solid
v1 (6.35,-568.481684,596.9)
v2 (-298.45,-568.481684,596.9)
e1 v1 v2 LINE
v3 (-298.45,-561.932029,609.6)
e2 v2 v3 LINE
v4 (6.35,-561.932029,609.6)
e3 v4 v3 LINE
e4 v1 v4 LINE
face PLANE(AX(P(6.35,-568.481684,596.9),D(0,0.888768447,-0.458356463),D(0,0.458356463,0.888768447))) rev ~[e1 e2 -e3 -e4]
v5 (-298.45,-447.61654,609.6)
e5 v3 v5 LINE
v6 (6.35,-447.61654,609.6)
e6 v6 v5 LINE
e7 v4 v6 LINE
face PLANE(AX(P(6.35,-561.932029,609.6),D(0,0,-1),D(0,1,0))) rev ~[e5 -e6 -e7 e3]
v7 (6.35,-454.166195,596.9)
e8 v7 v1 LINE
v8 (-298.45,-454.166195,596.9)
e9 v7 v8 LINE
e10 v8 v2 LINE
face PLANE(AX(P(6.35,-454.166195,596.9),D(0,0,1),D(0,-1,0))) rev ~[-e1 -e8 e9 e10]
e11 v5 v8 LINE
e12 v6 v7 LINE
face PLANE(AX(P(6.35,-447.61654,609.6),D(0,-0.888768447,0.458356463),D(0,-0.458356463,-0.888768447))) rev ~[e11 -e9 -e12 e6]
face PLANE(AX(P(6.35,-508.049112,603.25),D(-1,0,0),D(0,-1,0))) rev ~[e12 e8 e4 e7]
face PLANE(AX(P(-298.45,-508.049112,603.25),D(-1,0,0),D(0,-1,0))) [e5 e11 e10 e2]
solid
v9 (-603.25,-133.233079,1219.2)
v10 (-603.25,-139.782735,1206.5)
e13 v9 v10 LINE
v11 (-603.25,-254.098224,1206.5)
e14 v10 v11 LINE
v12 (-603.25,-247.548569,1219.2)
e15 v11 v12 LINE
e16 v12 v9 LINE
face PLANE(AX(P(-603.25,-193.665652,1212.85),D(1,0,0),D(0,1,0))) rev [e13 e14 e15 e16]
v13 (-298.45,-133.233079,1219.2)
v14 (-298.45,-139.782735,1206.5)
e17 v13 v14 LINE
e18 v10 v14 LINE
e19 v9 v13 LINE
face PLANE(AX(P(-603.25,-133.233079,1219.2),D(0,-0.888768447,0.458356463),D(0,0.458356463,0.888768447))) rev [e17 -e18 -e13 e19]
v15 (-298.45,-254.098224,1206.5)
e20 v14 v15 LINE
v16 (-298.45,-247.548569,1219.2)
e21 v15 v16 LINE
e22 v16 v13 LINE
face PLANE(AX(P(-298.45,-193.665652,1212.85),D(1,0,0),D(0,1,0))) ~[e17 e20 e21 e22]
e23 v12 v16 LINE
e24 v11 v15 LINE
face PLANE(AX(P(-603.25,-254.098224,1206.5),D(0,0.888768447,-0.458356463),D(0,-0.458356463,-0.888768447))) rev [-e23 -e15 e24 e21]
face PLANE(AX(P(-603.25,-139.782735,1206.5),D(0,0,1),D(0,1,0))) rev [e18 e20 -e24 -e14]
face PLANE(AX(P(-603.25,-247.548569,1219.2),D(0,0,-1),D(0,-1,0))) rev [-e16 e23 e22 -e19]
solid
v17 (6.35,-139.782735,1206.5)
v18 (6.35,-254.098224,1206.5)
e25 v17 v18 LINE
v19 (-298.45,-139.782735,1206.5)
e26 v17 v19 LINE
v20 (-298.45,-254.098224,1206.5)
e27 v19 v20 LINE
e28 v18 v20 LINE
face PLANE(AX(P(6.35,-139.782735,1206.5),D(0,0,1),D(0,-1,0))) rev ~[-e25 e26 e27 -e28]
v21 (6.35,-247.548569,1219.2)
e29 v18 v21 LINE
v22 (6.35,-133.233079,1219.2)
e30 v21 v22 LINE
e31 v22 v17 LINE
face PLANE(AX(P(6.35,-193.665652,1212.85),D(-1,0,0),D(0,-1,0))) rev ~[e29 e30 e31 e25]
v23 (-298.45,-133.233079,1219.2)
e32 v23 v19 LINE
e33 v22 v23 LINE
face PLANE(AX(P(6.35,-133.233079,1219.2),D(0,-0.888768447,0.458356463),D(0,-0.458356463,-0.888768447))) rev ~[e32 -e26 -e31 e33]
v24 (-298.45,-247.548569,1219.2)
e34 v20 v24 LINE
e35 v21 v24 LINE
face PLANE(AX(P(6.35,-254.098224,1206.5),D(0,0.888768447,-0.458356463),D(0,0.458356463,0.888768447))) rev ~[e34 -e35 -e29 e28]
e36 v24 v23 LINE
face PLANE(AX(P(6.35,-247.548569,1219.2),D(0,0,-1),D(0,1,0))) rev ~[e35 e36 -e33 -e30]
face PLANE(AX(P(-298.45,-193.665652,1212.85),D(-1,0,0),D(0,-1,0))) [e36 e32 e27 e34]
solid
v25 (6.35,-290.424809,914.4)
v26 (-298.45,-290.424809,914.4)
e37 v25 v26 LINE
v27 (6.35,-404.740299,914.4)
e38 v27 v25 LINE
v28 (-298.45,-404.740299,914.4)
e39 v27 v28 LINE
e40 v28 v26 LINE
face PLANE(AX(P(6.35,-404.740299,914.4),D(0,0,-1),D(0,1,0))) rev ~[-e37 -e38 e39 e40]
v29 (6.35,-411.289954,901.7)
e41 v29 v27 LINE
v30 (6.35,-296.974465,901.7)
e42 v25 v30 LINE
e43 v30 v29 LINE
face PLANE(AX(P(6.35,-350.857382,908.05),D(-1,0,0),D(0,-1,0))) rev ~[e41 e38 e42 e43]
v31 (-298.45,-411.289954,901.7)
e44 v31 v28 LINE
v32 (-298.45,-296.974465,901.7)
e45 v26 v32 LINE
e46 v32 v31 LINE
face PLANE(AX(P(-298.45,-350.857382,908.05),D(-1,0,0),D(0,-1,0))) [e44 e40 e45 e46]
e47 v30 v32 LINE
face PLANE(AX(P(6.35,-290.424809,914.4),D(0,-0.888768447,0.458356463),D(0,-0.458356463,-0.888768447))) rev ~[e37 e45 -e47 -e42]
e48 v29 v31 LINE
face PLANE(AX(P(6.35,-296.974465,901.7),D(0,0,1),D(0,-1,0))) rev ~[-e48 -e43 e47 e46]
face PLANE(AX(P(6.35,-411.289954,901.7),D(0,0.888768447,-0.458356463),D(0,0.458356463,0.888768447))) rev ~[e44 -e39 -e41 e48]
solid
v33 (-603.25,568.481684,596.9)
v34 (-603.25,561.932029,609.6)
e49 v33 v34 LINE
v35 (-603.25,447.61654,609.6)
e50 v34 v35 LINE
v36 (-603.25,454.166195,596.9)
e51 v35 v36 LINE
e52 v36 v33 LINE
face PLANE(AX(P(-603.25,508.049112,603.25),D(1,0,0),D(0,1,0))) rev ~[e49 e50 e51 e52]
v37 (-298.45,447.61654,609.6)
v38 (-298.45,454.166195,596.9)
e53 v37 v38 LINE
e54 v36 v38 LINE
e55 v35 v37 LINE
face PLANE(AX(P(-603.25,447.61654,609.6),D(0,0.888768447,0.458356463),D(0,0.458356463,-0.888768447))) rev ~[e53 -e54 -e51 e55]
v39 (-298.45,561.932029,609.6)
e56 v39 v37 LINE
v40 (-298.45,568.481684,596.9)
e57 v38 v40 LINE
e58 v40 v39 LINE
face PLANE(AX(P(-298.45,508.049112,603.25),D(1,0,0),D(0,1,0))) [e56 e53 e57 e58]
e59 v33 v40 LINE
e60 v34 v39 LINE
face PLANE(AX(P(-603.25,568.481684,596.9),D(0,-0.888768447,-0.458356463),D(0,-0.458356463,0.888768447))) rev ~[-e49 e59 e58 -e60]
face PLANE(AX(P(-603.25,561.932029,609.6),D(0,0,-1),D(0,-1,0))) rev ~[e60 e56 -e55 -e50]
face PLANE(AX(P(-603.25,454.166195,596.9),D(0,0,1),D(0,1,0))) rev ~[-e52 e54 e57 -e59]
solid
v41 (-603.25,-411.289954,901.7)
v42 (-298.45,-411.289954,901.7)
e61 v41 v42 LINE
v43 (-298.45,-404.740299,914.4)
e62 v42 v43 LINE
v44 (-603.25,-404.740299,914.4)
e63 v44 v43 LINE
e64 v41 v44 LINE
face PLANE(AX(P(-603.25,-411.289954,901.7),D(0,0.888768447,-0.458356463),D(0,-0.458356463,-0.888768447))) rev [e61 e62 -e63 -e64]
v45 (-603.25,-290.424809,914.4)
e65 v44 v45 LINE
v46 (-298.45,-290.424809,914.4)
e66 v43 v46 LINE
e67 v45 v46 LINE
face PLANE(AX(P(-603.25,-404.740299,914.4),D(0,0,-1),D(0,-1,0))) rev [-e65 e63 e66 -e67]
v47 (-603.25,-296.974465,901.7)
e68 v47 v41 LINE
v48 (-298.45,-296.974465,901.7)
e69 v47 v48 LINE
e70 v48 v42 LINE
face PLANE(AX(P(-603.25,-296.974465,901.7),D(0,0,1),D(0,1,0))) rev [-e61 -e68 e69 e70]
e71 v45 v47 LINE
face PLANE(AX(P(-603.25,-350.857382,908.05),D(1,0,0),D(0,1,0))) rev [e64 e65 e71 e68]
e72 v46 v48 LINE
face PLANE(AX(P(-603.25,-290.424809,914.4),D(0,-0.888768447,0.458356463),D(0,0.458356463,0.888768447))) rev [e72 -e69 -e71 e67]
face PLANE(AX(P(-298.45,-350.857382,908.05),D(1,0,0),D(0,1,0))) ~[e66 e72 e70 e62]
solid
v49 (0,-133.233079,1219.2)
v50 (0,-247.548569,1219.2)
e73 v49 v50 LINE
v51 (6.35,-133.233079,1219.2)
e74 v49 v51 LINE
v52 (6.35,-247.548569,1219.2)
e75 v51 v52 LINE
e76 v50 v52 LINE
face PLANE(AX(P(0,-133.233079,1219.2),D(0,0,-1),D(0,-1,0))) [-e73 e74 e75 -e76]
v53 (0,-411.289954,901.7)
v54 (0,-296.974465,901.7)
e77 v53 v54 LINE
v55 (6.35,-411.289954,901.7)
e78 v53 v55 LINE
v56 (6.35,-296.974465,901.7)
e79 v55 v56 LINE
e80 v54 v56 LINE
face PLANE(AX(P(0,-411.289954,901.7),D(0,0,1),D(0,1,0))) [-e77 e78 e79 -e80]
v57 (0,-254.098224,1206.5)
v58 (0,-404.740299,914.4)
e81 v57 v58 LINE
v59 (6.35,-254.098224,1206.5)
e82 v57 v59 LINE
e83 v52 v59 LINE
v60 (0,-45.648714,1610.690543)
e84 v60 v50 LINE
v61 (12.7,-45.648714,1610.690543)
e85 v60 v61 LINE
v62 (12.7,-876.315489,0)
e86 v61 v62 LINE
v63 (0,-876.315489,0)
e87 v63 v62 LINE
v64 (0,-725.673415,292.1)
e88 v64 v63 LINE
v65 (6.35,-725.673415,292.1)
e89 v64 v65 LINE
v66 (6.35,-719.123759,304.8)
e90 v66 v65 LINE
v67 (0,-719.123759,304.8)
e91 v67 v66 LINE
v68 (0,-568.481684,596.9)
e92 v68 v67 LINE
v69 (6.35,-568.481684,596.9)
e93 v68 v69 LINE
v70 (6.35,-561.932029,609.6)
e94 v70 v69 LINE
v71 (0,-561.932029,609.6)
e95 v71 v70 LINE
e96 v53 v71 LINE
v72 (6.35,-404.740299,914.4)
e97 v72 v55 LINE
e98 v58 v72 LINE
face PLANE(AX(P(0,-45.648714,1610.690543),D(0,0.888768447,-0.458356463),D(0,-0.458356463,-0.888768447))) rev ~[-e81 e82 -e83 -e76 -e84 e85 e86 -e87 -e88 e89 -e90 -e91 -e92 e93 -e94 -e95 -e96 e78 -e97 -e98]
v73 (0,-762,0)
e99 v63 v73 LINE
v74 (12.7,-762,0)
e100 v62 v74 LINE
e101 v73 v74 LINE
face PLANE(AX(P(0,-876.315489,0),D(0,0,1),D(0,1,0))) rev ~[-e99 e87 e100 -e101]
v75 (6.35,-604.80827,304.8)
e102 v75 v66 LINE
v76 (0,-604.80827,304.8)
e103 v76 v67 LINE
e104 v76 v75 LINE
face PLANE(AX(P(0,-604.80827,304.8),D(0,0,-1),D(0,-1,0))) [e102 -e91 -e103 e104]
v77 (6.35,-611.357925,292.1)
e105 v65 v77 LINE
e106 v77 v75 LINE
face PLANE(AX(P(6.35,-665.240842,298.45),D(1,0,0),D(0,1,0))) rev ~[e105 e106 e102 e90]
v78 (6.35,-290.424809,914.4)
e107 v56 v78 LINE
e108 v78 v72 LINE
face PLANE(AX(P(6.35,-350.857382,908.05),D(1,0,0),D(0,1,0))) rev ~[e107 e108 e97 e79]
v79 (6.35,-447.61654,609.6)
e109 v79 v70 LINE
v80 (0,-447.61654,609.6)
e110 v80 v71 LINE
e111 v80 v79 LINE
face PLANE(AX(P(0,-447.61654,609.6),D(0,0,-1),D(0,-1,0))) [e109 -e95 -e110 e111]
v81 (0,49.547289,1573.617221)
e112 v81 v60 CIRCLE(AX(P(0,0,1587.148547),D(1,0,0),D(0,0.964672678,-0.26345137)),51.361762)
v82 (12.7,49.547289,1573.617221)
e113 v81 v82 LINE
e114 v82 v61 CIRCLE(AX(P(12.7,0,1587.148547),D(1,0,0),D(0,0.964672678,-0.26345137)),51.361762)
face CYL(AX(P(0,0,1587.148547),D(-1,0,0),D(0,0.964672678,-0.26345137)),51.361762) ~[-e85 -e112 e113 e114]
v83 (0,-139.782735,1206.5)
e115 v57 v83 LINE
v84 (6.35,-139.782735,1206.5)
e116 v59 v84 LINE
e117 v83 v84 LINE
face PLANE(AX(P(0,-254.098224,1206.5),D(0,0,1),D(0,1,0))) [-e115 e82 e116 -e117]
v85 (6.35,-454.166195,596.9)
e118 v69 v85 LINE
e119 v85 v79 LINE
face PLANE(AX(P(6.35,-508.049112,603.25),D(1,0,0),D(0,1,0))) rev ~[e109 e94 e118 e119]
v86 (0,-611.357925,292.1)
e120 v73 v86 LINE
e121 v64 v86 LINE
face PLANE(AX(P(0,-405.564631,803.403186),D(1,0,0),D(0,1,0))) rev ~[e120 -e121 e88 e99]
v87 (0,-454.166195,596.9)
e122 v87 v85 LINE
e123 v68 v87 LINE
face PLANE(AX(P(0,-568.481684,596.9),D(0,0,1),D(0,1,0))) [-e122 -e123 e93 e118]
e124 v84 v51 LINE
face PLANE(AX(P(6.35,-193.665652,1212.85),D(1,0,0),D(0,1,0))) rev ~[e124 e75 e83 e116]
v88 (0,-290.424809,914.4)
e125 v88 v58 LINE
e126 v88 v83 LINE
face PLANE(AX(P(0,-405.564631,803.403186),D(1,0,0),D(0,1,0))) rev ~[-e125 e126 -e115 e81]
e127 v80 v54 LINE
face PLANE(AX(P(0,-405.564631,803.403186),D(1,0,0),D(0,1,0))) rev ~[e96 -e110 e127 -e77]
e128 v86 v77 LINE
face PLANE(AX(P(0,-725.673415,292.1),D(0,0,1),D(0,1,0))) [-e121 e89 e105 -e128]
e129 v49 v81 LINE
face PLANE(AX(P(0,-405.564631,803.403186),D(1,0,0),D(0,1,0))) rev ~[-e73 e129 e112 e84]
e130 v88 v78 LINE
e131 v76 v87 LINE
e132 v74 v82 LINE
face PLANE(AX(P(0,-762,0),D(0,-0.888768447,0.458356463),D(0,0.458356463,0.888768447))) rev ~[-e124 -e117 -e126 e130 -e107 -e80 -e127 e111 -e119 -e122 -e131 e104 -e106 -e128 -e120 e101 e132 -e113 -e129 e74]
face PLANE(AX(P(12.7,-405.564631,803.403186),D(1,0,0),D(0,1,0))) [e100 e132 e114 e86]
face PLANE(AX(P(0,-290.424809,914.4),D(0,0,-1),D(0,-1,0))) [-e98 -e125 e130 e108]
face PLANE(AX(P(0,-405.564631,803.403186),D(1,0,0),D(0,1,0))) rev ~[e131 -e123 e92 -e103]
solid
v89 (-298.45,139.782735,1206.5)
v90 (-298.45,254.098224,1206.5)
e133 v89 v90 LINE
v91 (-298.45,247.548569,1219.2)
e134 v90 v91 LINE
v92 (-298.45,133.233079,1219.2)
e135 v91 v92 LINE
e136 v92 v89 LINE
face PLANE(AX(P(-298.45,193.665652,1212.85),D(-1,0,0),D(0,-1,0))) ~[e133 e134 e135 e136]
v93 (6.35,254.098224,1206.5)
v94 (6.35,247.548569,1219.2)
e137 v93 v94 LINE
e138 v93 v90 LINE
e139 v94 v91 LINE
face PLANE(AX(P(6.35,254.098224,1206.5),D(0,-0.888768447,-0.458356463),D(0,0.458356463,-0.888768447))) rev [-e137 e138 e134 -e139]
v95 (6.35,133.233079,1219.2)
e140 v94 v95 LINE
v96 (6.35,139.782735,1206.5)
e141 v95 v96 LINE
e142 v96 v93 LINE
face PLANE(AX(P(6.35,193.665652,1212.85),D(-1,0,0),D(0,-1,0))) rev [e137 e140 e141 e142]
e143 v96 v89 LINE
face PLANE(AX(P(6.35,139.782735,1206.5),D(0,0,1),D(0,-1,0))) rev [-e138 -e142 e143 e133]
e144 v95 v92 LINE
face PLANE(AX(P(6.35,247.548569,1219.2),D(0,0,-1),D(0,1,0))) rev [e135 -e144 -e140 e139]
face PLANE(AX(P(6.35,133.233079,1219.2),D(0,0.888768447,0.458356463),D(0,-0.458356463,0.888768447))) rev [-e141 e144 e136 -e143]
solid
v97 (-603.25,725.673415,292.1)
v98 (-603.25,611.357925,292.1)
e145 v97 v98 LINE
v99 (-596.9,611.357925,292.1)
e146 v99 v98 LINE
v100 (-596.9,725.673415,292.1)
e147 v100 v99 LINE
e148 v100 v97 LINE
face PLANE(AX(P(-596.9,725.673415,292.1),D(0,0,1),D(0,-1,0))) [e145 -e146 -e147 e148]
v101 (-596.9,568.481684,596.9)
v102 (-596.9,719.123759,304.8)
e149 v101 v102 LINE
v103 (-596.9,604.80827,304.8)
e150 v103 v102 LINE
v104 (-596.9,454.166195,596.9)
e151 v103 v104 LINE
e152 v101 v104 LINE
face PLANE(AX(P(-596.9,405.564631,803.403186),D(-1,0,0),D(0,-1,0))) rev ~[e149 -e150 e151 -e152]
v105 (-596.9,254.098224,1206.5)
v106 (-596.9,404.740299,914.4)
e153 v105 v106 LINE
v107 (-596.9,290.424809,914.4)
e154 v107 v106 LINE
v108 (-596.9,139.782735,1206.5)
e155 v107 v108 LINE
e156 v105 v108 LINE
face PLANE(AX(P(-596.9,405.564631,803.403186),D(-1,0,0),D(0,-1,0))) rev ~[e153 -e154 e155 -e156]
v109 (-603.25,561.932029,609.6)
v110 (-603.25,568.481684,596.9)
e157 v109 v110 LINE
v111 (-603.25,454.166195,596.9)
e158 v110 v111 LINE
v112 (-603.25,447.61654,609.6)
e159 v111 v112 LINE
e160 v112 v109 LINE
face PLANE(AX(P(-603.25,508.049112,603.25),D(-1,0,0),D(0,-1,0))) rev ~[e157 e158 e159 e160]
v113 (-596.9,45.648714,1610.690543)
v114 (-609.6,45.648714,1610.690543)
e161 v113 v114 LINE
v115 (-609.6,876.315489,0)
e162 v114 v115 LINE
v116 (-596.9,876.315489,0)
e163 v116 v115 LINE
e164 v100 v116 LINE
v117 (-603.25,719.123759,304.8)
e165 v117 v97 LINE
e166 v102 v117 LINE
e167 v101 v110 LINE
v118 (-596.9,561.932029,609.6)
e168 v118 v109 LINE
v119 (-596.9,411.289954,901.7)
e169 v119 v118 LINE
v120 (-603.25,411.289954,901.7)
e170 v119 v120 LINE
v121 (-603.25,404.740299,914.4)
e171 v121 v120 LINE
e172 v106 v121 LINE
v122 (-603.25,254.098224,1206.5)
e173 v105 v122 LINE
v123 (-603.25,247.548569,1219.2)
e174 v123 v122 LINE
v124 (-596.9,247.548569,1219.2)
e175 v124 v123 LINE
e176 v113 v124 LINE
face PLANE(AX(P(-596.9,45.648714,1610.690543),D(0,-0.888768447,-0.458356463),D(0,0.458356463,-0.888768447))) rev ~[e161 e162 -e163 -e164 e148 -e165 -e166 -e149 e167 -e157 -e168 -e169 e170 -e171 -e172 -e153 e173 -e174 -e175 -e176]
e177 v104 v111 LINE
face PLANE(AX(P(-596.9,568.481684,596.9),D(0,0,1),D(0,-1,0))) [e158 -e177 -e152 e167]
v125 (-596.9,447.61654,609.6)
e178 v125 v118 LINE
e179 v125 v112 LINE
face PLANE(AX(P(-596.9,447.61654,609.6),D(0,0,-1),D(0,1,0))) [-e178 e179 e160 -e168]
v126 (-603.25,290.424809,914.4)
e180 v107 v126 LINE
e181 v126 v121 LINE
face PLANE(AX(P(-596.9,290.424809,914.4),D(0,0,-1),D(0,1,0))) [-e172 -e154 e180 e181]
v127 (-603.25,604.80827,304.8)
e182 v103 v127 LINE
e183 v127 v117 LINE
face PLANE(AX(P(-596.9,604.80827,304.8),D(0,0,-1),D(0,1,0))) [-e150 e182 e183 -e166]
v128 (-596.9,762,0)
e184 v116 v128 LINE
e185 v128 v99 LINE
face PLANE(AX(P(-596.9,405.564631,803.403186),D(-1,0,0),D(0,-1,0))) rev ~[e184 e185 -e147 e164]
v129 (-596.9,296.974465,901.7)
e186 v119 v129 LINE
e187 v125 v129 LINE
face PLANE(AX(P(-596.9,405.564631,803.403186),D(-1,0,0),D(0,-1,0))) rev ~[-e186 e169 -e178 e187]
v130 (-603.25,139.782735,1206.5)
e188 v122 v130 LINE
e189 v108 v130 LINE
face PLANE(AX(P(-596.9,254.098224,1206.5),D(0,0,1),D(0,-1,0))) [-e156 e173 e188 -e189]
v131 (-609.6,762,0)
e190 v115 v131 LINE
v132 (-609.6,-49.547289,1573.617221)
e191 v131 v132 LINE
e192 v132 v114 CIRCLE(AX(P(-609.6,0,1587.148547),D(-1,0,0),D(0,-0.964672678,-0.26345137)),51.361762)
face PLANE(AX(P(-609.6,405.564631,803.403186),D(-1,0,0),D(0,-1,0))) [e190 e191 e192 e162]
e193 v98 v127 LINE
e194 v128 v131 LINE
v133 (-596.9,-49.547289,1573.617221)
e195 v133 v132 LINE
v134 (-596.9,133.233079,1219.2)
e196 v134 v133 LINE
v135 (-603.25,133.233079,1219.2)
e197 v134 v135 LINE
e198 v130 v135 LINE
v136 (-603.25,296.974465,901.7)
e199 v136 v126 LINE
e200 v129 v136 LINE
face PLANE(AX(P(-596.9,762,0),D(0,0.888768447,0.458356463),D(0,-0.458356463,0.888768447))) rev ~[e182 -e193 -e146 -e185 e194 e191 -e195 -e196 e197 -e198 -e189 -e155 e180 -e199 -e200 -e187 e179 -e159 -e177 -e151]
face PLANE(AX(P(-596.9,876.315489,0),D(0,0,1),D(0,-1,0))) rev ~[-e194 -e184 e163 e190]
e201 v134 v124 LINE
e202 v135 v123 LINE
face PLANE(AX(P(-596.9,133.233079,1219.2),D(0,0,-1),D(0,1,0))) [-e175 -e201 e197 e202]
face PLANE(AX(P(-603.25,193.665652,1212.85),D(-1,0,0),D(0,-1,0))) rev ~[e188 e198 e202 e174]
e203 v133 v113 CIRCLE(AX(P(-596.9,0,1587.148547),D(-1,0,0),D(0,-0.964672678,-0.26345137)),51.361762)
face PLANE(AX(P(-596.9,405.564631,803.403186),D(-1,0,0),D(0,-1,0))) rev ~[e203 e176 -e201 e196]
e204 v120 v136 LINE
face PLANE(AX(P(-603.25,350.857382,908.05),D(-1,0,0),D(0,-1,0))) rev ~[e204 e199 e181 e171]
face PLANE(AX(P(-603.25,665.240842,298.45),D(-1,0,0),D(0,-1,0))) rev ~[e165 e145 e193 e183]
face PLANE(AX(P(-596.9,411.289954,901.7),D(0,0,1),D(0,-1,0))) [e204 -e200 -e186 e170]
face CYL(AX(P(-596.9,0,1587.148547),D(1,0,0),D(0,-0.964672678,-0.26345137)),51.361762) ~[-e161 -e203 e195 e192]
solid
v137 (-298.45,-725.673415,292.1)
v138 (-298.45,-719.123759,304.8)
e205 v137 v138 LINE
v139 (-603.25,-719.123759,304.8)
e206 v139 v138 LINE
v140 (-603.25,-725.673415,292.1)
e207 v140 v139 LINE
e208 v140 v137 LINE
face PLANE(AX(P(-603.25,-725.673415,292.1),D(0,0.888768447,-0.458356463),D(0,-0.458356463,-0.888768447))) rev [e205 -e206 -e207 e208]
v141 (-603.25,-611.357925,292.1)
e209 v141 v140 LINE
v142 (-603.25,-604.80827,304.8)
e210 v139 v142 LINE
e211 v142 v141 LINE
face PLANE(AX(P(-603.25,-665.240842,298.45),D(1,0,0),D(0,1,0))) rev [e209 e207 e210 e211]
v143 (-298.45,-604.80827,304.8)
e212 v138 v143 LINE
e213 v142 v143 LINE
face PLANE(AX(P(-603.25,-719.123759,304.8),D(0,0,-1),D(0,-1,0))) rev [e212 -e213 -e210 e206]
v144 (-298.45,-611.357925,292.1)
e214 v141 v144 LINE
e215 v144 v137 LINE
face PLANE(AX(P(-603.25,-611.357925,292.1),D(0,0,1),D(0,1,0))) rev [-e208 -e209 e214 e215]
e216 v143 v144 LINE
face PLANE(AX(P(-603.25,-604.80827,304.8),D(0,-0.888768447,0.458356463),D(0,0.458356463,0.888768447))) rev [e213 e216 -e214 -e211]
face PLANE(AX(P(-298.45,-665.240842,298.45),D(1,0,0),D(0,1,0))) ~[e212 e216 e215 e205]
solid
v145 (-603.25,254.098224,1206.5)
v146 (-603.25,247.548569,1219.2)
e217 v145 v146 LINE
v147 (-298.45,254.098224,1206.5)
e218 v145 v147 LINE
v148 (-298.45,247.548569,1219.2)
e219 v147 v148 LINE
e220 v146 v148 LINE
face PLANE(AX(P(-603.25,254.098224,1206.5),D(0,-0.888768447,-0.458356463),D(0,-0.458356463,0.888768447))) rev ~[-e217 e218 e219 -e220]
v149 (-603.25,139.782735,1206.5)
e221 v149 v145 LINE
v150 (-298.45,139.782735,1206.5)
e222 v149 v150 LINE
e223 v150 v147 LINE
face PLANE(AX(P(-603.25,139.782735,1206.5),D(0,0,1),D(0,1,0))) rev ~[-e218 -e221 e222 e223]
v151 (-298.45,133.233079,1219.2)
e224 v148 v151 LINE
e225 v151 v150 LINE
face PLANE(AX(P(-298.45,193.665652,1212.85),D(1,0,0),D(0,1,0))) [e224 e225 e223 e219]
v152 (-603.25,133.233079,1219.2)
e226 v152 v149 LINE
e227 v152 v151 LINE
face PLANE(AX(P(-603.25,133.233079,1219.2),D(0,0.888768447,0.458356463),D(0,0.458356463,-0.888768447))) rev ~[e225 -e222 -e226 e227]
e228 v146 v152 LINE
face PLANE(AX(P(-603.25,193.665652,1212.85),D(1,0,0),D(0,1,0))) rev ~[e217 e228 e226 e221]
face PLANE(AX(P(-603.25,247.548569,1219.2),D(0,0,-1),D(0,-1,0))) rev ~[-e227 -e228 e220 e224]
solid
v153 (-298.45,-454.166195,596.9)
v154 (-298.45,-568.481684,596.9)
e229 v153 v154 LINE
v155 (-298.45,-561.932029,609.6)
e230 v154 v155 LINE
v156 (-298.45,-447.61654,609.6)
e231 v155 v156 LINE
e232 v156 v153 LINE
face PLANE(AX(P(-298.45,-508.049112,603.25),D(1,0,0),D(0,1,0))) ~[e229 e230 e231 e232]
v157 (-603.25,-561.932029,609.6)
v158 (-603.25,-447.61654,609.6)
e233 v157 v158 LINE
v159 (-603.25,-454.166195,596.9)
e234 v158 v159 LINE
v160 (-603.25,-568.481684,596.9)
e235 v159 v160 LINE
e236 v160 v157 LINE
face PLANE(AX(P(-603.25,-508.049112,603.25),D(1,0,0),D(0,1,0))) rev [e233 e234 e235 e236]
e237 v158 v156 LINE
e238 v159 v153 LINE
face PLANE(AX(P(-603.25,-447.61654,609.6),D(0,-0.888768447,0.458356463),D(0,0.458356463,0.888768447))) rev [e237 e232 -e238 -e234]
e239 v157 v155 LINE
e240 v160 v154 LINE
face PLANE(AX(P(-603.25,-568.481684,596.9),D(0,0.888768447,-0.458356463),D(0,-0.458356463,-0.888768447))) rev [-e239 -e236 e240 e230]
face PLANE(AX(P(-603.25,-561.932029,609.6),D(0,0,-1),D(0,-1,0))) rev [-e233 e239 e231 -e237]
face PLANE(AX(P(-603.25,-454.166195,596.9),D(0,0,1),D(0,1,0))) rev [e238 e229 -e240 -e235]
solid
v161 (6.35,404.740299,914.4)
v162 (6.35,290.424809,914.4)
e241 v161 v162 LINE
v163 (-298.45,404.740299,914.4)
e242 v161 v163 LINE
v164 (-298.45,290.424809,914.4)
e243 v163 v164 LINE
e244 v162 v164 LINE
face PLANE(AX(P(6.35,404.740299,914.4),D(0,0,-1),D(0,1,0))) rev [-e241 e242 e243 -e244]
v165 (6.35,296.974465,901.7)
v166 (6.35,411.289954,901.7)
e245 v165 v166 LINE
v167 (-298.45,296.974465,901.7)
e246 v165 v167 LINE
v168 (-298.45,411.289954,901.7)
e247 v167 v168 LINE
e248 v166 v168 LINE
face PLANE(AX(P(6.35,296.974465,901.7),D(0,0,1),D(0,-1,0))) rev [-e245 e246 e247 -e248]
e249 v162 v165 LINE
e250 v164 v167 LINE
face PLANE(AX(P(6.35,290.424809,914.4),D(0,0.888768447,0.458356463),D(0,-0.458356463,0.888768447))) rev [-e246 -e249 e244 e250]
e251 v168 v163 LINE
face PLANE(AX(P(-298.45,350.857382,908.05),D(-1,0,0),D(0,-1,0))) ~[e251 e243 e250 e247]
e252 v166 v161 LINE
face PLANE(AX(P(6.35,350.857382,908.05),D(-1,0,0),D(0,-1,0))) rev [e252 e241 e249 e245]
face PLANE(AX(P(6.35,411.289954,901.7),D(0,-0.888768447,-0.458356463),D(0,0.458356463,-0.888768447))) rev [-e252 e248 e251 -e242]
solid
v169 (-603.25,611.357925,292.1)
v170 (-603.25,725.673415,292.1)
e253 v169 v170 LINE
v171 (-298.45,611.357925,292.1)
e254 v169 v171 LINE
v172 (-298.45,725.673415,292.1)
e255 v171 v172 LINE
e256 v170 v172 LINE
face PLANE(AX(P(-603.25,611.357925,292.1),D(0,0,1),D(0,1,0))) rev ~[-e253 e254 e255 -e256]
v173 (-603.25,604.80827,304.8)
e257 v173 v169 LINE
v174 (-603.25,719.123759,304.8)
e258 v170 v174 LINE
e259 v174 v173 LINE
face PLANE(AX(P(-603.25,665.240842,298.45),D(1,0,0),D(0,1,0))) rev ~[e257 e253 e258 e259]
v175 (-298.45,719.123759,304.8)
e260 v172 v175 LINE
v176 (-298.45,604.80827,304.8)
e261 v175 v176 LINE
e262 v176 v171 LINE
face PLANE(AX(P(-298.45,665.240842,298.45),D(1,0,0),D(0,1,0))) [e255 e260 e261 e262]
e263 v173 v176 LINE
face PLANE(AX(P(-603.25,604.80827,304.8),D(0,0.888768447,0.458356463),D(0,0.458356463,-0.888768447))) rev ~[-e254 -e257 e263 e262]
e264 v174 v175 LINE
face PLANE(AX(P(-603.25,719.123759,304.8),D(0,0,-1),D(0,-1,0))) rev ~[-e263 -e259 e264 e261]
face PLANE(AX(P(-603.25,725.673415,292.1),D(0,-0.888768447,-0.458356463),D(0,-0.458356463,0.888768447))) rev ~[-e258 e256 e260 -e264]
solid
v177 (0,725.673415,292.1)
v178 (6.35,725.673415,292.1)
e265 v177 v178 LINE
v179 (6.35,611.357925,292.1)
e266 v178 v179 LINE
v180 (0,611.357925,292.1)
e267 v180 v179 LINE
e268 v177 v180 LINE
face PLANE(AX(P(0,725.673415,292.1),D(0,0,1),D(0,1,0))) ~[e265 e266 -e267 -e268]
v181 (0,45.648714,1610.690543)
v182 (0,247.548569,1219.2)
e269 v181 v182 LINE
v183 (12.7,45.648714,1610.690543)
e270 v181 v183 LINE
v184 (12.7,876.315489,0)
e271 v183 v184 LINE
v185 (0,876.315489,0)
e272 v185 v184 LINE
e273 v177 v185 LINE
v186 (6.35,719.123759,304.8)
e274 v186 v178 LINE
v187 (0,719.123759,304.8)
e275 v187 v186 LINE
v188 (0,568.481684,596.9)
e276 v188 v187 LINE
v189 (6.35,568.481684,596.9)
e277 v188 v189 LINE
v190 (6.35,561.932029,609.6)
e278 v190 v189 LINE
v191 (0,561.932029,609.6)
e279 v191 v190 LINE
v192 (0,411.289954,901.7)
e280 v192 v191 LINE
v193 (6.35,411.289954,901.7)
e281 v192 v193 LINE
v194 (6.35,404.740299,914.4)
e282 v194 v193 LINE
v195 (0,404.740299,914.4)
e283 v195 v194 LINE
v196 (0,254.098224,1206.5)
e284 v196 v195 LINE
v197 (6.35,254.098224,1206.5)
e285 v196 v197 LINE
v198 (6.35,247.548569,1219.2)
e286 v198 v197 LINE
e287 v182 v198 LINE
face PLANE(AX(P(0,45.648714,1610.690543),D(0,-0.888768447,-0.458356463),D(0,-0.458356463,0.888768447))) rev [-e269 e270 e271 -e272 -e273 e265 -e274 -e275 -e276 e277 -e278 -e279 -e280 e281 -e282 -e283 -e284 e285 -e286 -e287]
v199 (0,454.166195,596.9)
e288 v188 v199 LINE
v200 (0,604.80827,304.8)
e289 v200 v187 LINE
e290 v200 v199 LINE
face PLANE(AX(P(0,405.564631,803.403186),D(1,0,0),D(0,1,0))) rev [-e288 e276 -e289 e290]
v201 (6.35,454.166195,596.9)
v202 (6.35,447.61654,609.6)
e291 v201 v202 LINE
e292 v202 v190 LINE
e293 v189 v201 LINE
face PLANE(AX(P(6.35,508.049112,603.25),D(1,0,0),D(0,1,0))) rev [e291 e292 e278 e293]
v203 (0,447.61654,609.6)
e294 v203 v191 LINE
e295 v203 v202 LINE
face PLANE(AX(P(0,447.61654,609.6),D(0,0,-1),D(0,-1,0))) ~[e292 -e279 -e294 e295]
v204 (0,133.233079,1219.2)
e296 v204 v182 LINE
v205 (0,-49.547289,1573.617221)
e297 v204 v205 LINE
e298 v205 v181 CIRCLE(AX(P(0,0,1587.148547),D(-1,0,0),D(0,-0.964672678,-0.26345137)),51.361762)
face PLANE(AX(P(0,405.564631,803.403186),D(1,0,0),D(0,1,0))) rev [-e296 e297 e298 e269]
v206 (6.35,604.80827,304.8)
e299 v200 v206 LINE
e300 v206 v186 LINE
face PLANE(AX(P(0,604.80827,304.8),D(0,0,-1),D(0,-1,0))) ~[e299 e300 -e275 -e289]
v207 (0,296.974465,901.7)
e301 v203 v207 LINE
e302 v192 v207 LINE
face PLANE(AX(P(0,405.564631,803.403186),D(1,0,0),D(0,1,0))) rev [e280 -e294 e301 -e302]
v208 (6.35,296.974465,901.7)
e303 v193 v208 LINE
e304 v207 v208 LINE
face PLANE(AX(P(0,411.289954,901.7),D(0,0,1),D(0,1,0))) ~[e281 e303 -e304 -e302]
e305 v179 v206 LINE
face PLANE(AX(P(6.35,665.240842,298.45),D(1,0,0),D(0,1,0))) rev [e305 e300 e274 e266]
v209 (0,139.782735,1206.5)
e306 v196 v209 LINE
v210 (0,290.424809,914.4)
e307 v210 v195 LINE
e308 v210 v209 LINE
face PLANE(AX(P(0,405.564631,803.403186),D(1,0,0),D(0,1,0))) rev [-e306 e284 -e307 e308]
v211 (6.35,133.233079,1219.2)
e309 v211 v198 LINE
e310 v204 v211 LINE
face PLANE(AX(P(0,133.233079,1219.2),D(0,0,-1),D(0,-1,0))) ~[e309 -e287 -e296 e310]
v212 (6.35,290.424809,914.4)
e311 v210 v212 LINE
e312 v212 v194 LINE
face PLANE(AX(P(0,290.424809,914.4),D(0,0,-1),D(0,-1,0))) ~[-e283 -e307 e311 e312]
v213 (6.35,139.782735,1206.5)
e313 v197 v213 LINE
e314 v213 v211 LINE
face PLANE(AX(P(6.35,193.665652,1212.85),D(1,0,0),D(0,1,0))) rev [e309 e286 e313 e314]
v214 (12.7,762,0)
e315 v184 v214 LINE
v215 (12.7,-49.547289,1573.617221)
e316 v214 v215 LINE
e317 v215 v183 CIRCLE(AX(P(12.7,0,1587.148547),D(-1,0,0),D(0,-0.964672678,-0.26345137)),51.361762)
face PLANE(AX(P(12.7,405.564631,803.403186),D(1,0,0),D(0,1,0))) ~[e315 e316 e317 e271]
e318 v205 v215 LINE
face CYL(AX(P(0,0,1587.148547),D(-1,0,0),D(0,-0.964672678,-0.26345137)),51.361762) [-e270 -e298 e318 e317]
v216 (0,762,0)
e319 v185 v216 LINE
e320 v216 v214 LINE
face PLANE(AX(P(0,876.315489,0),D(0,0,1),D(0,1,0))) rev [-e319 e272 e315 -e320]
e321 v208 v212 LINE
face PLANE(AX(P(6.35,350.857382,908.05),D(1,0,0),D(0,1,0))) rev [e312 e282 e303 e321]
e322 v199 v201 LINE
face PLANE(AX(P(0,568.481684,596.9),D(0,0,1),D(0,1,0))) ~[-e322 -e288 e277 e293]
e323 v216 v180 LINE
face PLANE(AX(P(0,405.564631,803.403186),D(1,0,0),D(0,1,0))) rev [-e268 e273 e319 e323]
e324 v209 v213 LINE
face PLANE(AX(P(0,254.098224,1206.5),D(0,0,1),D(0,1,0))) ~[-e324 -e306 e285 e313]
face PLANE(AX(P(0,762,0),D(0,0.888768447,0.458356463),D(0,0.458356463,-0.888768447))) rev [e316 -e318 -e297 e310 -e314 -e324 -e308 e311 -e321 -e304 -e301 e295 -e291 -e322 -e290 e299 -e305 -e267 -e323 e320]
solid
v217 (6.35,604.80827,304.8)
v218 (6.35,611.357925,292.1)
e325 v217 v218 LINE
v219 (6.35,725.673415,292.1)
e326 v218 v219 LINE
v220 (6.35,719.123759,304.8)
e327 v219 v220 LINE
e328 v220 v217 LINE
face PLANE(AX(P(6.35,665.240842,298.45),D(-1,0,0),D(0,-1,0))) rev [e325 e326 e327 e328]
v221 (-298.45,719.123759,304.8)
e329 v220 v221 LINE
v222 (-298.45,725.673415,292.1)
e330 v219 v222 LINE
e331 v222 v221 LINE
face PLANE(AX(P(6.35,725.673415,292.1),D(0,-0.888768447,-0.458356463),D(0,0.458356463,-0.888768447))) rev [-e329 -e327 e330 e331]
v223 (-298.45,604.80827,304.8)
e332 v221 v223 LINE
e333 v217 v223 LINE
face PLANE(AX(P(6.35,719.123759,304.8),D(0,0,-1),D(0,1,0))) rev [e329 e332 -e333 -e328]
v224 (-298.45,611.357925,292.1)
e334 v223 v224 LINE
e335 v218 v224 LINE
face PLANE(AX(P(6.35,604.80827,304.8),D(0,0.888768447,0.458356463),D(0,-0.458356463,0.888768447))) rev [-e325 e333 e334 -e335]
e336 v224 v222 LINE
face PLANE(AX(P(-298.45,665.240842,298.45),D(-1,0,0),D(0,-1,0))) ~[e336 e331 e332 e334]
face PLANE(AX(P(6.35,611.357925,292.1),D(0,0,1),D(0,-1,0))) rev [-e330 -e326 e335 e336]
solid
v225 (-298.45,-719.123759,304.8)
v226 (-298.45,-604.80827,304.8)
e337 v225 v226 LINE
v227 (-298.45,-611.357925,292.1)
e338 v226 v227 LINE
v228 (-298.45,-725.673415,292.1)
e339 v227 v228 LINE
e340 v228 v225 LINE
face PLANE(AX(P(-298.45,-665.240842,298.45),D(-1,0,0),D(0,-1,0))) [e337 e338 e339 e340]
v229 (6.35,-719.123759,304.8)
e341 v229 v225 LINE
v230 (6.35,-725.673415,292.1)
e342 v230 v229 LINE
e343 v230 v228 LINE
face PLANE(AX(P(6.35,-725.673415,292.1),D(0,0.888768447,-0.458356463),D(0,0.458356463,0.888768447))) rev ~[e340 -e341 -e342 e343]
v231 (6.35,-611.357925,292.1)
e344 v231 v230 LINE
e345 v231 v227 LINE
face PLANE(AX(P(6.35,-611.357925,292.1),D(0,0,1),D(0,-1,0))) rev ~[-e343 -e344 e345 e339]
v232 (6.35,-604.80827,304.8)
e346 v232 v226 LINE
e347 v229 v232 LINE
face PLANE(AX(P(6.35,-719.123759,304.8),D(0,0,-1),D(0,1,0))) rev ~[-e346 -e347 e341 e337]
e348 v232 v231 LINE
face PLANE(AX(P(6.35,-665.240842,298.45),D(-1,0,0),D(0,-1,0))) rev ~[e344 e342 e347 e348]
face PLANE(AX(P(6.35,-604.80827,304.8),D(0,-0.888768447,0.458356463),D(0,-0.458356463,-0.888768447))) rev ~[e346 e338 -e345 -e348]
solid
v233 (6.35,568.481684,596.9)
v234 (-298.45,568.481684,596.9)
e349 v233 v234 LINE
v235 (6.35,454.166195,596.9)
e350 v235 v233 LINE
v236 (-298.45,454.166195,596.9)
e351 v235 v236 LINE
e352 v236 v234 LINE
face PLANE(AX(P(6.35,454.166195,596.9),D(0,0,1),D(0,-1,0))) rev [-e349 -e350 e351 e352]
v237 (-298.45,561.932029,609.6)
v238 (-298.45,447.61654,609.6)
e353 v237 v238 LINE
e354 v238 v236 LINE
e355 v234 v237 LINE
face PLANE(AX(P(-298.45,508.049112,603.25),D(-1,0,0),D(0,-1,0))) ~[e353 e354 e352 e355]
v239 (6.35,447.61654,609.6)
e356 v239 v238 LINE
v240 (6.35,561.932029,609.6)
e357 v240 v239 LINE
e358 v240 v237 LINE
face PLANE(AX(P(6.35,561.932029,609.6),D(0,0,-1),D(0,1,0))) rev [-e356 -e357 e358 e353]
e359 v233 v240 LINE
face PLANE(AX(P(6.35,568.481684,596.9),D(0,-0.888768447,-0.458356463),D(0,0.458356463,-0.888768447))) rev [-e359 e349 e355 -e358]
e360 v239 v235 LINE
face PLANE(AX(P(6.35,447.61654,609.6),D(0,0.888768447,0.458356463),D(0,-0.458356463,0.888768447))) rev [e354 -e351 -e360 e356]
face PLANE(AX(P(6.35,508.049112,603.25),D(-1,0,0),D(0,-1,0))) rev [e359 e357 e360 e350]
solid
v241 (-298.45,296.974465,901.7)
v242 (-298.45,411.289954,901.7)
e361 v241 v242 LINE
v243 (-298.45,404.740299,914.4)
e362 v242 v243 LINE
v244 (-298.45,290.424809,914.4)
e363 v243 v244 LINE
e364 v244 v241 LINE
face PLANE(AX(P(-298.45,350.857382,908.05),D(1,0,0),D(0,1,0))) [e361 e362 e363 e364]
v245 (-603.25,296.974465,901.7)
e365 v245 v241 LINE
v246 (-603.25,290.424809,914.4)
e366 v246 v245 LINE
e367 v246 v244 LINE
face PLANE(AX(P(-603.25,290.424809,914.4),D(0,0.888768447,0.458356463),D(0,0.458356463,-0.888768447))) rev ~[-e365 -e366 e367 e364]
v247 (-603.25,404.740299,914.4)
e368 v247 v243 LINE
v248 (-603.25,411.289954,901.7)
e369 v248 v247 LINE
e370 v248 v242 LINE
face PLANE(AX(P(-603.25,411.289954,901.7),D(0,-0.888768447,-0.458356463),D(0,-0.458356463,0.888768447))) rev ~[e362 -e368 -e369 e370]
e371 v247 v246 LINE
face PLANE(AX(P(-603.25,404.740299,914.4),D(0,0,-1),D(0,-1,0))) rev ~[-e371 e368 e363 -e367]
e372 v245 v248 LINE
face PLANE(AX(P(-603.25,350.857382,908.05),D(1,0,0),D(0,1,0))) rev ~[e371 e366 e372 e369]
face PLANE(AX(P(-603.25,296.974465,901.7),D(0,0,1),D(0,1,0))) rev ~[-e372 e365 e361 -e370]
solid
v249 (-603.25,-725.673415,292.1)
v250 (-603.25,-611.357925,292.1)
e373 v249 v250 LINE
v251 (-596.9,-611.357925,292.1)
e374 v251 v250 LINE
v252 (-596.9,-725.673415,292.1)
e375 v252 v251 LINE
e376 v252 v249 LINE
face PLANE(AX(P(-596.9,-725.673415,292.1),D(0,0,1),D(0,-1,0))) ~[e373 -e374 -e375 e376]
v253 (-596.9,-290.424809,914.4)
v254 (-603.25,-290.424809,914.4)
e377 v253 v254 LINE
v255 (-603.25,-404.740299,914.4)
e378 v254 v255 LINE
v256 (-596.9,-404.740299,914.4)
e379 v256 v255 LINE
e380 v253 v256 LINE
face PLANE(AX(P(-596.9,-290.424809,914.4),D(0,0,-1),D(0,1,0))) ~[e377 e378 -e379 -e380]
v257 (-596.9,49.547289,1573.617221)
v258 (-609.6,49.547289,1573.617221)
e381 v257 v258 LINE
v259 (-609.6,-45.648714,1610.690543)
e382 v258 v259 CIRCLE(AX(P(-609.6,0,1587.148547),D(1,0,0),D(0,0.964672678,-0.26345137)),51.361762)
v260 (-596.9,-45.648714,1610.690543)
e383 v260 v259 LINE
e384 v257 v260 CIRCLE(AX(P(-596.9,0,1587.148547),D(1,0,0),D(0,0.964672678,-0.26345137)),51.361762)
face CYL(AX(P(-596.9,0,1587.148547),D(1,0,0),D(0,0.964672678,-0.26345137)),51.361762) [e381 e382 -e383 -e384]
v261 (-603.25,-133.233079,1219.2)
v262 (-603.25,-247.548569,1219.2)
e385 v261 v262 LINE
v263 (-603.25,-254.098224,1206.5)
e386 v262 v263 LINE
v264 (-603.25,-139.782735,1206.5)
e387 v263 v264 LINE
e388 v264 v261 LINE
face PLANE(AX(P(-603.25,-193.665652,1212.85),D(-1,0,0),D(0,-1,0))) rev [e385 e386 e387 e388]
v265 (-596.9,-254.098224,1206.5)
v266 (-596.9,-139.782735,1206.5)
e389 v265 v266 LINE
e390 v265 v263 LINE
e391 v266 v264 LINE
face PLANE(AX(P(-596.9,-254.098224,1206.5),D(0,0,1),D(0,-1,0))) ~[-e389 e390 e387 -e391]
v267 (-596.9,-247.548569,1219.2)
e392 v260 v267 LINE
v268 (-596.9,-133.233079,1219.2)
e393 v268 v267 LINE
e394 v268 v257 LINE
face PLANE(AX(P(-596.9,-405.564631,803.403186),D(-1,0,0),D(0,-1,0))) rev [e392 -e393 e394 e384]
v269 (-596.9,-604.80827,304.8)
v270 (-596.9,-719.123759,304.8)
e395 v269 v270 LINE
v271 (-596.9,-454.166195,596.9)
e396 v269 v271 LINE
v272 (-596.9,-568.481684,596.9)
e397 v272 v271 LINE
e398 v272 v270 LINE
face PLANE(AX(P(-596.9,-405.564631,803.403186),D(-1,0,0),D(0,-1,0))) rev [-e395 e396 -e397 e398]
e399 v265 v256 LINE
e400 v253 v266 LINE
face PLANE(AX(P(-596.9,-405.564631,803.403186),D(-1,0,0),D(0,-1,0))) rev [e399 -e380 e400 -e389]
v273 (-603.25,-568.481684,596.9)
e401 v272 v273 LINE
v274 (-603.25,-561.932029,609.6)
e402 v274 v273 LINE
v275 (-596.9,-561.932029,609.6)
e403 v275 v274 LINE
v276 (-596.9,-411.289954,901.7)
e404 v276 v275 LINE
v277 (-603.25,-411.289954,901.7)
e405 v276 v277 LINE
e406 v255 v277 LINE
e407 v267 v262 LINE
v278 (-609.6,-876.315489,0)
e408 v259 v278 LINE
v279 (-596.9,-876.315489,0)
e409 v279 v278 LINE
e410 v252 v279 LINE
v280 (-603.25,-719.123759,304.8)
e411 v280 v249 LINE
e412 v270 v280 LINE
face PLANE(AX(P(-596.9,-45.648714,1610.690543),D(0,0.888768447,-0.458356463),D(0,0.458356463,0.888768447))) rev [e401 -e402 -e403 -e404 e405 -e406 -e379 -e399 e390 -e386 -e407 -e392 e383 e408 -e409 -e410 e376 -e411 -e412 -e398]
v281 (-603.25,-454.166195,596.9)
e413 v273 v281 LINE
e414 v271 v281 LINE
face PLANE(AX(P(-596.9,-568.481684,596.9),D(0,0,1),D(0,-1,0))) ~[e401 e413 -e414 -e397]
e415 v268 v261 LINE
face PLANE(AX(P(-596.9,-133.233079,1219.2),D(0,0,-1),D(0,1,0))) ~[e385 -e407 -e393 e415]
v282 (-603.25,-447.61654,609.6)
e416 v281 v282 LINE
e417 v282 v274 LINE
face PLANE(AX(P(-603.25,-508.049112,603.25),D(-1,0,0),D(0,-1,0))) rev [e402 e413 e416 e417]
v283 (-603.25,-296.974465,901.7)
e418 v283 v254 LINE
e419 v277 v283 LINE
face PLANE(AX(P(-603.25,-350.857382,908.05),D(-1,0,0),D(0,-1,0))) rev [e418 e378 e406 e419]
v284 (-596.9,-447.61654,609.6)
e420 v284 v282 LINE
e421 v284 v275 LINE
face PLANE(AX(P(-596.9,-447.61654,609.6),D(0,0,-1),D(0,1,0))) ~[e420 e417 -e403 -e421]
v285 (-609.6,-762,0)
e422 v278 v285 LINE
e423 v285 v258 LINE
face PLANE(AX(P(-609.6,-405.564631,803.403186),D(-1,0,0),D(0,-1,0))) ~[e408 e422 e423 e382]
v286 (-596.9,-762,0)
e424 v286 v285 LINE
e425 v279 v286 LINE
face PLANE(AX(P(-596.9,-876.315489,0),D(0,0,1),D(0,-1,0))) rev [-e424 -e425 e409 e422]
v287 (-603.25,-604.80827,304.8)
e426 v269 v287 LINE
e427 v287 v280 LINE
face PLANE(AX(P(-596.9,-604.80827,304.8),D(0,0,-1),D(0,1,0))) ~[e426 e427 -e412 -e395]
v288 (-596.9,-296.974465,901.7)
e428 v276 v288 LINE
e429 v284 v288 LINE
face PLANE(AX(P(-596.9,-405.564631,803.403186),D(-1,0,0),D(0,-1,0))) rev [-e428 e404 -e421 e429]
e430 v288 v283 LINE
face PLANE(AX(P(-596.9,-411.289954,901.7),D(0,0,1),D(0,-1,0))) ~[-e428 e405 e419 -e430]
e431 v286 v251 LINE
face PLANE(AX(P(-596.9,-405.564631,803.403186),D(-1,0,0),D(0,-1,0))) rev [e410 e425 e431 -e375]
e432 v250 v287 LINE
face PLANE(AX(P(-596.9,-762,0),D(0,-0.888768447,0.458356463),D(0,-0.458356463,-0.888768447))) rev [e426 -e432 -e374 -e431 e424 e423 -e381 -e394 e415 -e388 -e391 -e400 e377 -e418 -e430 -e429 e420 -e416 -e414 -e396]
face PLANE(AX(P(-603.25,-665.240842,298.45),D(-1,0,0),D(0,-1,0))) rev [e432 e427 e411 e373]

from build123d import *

# Parameters (mm, degrees)
F1_DEPTH = 12.7
F3_DEPTH = 6.35
F5_DEPTH = 304.8


with BuildPart() as f1:
    # F0 (on Right) → F1 (new body)
    with BuildSketch(Plane.YZ):
        with BuildLine():
            Line((-45.6487136165, 1610.6905428261), (-876.3154893977, 0))
            Line((-876.3154893977, 0), (-762, 0))
            Line((-762, 0), (49.5472886649, 1573.6172205508))
            ThreePointArc((49.5472886649, 1573.6172205508), (18.6388714246, 1635.0090014768), (-45.6487136165, 1610.6905428261))
        make_face()
    extrude(amount=F1_DEPTH)

    # F2 (on face) → F3 (cut)
    with BuildSketch(Plane.YZ):
        Polygon((-133.233079164, 1219.2), (-247.5485685617, 1219.2), (-254.098223987, 1206.5), (-139.7827345893, 1206.5), align=None)
        Polygon((-290.424809373, 914.4), (-404.7402987707, 914.4), (-411.289954196, 901.7), (-296.9744647984, 901.7), align=None)
        Polygon((-447.616539582, 609.6), (-561.9320289797, 609.6), (-568.4816844051, 596.9), (-454.1661950074, 596.9), align=None)
        Polygon((-604.808269791, 304.8), (-719.1237591887, 304.8), (-725.6734146141, 292.1), (-611.3579252164, 292.1), align=None)
    extrude(amount=F3_DEPTH, mode=Mode.SUBTRACT)


with BuildPart() as f5:
    # F4 (on face) → F5 (new body)
    with BuildSketch(Plane(origin=(6.35, 0, 0), x_dir=(0, -1, 0), z_dir=(-1, 0, 0))):
        Polygon((254.098223987, 1206.5), (247.5485685617, 1219.2), (133.233079164, 1219.2), (139.7827345893, 1206.5), align=None)
    extrude(amount=F5_DEPTH)


with BuildPart() as f5b:
    # F4 (on face) → F5, piece 2 (new body)
    with BuildSketch(Plane(origin=(6.35, 0, 0), x_dir=(0, -1, 0), z_dir=(-1, 0, 0))):
        Polygon((725.6734146141, 292.1), (719.1237591887, 304.8), (604.808269791, 304.8), (611.3579252164, 292.1), align=None)
    extrude(amount=F5_DEPTH)


with BuildPart() as f5c:
    # F4 (on face) → F5, piece 3 (new body)
    with BuildSketch(Plane(origin=(6.35, 0, 0), x_dir=(0, -1, 0), z_dir=(-1, 0, 0))):
        Polygon((568.4816844051, 596.9), (561.9320289797, 609.6), (447.616539582, 609.6), (454.1661950074, 596.9), align=None)
    extrude(amount=F5_DEPTH)


with BuildPart() as f5d:
    # F4 (on face) → F5, piece 4 (new body)
    with BuildSketch(Plane(origin=(6.35, 0, 0), x_dir=(0, -1, 0), z_dir=(-1, 0, 0))):
        Polygon((411.289954196, 901.7), (404.7402987707, 914.4), (290.424809373, 914.4), (296.9744647984, 901.7), align=None)
    extrude(amount=F5_DEPTH)


with BuildPart() as f6_1:
    # F6: instance of F1
    add(f1.part.mirror(Plane(origin=(-298.45, -193.6656515755, 1212.85), x_dir=(0, -1, 0), z_dir=(-1, 0, 0))))


with BuildPart() as f6_2:
    # F6: instance of F5
    add(f5.part.mirror(Plane(origin=(-298.45, -193.6656515755, 1212.85), x_dir=(0, -1, 0), z_dir=(-1, 0, 0))))


with BuildPart() as f6_3:
    # F6: instance of F5d
    add(f5d.part.mirror(Plane(origin=(-298.45, -193.6656515755, 1212.85), x_dir=(0, -1, 0), z_dir=(-1, 0, 0))))


with BuildPart() as f6_4:
    # F6: instance of F5c
    add(f5c.part.mirror(Plane(origin=(-298.45, -193.6656515755, 1212.85), x_dir=(0, -1, 0), z_dir=(-1, 0, 0))))


with BuildPart() as f6_5:
    # F6: instance of F5b
    add(f5b.part.mirror(Plane(origin=(-298.45, -193.6656515755, 1212.85), x_dir=(0, -1, 0), z_dir=(-1, 0, 0))))


with BuildPart() as f7_1:
    # F7: instance of F1
    add(f1.part.mirror(Plane.XZ))


with BuildPart() as f7_2:
    # F7: instance of F6_1
    add(f6_1.part.mirror(Plane.XZ))


with BuildPart() as f7_3:
    # F7: instance of F6_2
    add(f6_2.part.mirror(Plane.XZ))


with BuildPart() as f7_4:
    # F7: instance of F5
    add(f5.part.mirror(Plane.XZ))


with BuildPart() as f7_5:
    # F7: instance of F5d
    add(f5d.part.mirror(Plane.XZ))


with BuildPart() as f7_6:
    # F7: instance of F5c
    add(f5c.part.mirror(Plane.XZ))


with BuildPart() as f7_7:
    # F7: instance of F5b
    add(f5b.part.mirror(Plane.XZ))


with BuildPart() as f7_8:
    # F7: instance of F6_3
    add(f6_3.part.mirror(Plane.XZ))


with BuildPart() as f7_9:
    # F7: instance of F6_4
    add(f6_4.part.mirror(Plane.XZ))


with BuildPart() as f7_10:
    # F7: instance of F6_5
    add(f6_5.part.mirror(Plane.XZ))


solid = Compound([f1.part, f5.part, f5b.part, f5c.part, f5d.part, f6_1.part, f6_2.part, f6_3.part, f6_4.part, f6_5.part, f7_1.part, f7_2.part, f7_3.part, f7_4.part, f7_5.part, f7_6.part, f7_7.part, f7_8.part, f7_9.part, f7_10.part])
